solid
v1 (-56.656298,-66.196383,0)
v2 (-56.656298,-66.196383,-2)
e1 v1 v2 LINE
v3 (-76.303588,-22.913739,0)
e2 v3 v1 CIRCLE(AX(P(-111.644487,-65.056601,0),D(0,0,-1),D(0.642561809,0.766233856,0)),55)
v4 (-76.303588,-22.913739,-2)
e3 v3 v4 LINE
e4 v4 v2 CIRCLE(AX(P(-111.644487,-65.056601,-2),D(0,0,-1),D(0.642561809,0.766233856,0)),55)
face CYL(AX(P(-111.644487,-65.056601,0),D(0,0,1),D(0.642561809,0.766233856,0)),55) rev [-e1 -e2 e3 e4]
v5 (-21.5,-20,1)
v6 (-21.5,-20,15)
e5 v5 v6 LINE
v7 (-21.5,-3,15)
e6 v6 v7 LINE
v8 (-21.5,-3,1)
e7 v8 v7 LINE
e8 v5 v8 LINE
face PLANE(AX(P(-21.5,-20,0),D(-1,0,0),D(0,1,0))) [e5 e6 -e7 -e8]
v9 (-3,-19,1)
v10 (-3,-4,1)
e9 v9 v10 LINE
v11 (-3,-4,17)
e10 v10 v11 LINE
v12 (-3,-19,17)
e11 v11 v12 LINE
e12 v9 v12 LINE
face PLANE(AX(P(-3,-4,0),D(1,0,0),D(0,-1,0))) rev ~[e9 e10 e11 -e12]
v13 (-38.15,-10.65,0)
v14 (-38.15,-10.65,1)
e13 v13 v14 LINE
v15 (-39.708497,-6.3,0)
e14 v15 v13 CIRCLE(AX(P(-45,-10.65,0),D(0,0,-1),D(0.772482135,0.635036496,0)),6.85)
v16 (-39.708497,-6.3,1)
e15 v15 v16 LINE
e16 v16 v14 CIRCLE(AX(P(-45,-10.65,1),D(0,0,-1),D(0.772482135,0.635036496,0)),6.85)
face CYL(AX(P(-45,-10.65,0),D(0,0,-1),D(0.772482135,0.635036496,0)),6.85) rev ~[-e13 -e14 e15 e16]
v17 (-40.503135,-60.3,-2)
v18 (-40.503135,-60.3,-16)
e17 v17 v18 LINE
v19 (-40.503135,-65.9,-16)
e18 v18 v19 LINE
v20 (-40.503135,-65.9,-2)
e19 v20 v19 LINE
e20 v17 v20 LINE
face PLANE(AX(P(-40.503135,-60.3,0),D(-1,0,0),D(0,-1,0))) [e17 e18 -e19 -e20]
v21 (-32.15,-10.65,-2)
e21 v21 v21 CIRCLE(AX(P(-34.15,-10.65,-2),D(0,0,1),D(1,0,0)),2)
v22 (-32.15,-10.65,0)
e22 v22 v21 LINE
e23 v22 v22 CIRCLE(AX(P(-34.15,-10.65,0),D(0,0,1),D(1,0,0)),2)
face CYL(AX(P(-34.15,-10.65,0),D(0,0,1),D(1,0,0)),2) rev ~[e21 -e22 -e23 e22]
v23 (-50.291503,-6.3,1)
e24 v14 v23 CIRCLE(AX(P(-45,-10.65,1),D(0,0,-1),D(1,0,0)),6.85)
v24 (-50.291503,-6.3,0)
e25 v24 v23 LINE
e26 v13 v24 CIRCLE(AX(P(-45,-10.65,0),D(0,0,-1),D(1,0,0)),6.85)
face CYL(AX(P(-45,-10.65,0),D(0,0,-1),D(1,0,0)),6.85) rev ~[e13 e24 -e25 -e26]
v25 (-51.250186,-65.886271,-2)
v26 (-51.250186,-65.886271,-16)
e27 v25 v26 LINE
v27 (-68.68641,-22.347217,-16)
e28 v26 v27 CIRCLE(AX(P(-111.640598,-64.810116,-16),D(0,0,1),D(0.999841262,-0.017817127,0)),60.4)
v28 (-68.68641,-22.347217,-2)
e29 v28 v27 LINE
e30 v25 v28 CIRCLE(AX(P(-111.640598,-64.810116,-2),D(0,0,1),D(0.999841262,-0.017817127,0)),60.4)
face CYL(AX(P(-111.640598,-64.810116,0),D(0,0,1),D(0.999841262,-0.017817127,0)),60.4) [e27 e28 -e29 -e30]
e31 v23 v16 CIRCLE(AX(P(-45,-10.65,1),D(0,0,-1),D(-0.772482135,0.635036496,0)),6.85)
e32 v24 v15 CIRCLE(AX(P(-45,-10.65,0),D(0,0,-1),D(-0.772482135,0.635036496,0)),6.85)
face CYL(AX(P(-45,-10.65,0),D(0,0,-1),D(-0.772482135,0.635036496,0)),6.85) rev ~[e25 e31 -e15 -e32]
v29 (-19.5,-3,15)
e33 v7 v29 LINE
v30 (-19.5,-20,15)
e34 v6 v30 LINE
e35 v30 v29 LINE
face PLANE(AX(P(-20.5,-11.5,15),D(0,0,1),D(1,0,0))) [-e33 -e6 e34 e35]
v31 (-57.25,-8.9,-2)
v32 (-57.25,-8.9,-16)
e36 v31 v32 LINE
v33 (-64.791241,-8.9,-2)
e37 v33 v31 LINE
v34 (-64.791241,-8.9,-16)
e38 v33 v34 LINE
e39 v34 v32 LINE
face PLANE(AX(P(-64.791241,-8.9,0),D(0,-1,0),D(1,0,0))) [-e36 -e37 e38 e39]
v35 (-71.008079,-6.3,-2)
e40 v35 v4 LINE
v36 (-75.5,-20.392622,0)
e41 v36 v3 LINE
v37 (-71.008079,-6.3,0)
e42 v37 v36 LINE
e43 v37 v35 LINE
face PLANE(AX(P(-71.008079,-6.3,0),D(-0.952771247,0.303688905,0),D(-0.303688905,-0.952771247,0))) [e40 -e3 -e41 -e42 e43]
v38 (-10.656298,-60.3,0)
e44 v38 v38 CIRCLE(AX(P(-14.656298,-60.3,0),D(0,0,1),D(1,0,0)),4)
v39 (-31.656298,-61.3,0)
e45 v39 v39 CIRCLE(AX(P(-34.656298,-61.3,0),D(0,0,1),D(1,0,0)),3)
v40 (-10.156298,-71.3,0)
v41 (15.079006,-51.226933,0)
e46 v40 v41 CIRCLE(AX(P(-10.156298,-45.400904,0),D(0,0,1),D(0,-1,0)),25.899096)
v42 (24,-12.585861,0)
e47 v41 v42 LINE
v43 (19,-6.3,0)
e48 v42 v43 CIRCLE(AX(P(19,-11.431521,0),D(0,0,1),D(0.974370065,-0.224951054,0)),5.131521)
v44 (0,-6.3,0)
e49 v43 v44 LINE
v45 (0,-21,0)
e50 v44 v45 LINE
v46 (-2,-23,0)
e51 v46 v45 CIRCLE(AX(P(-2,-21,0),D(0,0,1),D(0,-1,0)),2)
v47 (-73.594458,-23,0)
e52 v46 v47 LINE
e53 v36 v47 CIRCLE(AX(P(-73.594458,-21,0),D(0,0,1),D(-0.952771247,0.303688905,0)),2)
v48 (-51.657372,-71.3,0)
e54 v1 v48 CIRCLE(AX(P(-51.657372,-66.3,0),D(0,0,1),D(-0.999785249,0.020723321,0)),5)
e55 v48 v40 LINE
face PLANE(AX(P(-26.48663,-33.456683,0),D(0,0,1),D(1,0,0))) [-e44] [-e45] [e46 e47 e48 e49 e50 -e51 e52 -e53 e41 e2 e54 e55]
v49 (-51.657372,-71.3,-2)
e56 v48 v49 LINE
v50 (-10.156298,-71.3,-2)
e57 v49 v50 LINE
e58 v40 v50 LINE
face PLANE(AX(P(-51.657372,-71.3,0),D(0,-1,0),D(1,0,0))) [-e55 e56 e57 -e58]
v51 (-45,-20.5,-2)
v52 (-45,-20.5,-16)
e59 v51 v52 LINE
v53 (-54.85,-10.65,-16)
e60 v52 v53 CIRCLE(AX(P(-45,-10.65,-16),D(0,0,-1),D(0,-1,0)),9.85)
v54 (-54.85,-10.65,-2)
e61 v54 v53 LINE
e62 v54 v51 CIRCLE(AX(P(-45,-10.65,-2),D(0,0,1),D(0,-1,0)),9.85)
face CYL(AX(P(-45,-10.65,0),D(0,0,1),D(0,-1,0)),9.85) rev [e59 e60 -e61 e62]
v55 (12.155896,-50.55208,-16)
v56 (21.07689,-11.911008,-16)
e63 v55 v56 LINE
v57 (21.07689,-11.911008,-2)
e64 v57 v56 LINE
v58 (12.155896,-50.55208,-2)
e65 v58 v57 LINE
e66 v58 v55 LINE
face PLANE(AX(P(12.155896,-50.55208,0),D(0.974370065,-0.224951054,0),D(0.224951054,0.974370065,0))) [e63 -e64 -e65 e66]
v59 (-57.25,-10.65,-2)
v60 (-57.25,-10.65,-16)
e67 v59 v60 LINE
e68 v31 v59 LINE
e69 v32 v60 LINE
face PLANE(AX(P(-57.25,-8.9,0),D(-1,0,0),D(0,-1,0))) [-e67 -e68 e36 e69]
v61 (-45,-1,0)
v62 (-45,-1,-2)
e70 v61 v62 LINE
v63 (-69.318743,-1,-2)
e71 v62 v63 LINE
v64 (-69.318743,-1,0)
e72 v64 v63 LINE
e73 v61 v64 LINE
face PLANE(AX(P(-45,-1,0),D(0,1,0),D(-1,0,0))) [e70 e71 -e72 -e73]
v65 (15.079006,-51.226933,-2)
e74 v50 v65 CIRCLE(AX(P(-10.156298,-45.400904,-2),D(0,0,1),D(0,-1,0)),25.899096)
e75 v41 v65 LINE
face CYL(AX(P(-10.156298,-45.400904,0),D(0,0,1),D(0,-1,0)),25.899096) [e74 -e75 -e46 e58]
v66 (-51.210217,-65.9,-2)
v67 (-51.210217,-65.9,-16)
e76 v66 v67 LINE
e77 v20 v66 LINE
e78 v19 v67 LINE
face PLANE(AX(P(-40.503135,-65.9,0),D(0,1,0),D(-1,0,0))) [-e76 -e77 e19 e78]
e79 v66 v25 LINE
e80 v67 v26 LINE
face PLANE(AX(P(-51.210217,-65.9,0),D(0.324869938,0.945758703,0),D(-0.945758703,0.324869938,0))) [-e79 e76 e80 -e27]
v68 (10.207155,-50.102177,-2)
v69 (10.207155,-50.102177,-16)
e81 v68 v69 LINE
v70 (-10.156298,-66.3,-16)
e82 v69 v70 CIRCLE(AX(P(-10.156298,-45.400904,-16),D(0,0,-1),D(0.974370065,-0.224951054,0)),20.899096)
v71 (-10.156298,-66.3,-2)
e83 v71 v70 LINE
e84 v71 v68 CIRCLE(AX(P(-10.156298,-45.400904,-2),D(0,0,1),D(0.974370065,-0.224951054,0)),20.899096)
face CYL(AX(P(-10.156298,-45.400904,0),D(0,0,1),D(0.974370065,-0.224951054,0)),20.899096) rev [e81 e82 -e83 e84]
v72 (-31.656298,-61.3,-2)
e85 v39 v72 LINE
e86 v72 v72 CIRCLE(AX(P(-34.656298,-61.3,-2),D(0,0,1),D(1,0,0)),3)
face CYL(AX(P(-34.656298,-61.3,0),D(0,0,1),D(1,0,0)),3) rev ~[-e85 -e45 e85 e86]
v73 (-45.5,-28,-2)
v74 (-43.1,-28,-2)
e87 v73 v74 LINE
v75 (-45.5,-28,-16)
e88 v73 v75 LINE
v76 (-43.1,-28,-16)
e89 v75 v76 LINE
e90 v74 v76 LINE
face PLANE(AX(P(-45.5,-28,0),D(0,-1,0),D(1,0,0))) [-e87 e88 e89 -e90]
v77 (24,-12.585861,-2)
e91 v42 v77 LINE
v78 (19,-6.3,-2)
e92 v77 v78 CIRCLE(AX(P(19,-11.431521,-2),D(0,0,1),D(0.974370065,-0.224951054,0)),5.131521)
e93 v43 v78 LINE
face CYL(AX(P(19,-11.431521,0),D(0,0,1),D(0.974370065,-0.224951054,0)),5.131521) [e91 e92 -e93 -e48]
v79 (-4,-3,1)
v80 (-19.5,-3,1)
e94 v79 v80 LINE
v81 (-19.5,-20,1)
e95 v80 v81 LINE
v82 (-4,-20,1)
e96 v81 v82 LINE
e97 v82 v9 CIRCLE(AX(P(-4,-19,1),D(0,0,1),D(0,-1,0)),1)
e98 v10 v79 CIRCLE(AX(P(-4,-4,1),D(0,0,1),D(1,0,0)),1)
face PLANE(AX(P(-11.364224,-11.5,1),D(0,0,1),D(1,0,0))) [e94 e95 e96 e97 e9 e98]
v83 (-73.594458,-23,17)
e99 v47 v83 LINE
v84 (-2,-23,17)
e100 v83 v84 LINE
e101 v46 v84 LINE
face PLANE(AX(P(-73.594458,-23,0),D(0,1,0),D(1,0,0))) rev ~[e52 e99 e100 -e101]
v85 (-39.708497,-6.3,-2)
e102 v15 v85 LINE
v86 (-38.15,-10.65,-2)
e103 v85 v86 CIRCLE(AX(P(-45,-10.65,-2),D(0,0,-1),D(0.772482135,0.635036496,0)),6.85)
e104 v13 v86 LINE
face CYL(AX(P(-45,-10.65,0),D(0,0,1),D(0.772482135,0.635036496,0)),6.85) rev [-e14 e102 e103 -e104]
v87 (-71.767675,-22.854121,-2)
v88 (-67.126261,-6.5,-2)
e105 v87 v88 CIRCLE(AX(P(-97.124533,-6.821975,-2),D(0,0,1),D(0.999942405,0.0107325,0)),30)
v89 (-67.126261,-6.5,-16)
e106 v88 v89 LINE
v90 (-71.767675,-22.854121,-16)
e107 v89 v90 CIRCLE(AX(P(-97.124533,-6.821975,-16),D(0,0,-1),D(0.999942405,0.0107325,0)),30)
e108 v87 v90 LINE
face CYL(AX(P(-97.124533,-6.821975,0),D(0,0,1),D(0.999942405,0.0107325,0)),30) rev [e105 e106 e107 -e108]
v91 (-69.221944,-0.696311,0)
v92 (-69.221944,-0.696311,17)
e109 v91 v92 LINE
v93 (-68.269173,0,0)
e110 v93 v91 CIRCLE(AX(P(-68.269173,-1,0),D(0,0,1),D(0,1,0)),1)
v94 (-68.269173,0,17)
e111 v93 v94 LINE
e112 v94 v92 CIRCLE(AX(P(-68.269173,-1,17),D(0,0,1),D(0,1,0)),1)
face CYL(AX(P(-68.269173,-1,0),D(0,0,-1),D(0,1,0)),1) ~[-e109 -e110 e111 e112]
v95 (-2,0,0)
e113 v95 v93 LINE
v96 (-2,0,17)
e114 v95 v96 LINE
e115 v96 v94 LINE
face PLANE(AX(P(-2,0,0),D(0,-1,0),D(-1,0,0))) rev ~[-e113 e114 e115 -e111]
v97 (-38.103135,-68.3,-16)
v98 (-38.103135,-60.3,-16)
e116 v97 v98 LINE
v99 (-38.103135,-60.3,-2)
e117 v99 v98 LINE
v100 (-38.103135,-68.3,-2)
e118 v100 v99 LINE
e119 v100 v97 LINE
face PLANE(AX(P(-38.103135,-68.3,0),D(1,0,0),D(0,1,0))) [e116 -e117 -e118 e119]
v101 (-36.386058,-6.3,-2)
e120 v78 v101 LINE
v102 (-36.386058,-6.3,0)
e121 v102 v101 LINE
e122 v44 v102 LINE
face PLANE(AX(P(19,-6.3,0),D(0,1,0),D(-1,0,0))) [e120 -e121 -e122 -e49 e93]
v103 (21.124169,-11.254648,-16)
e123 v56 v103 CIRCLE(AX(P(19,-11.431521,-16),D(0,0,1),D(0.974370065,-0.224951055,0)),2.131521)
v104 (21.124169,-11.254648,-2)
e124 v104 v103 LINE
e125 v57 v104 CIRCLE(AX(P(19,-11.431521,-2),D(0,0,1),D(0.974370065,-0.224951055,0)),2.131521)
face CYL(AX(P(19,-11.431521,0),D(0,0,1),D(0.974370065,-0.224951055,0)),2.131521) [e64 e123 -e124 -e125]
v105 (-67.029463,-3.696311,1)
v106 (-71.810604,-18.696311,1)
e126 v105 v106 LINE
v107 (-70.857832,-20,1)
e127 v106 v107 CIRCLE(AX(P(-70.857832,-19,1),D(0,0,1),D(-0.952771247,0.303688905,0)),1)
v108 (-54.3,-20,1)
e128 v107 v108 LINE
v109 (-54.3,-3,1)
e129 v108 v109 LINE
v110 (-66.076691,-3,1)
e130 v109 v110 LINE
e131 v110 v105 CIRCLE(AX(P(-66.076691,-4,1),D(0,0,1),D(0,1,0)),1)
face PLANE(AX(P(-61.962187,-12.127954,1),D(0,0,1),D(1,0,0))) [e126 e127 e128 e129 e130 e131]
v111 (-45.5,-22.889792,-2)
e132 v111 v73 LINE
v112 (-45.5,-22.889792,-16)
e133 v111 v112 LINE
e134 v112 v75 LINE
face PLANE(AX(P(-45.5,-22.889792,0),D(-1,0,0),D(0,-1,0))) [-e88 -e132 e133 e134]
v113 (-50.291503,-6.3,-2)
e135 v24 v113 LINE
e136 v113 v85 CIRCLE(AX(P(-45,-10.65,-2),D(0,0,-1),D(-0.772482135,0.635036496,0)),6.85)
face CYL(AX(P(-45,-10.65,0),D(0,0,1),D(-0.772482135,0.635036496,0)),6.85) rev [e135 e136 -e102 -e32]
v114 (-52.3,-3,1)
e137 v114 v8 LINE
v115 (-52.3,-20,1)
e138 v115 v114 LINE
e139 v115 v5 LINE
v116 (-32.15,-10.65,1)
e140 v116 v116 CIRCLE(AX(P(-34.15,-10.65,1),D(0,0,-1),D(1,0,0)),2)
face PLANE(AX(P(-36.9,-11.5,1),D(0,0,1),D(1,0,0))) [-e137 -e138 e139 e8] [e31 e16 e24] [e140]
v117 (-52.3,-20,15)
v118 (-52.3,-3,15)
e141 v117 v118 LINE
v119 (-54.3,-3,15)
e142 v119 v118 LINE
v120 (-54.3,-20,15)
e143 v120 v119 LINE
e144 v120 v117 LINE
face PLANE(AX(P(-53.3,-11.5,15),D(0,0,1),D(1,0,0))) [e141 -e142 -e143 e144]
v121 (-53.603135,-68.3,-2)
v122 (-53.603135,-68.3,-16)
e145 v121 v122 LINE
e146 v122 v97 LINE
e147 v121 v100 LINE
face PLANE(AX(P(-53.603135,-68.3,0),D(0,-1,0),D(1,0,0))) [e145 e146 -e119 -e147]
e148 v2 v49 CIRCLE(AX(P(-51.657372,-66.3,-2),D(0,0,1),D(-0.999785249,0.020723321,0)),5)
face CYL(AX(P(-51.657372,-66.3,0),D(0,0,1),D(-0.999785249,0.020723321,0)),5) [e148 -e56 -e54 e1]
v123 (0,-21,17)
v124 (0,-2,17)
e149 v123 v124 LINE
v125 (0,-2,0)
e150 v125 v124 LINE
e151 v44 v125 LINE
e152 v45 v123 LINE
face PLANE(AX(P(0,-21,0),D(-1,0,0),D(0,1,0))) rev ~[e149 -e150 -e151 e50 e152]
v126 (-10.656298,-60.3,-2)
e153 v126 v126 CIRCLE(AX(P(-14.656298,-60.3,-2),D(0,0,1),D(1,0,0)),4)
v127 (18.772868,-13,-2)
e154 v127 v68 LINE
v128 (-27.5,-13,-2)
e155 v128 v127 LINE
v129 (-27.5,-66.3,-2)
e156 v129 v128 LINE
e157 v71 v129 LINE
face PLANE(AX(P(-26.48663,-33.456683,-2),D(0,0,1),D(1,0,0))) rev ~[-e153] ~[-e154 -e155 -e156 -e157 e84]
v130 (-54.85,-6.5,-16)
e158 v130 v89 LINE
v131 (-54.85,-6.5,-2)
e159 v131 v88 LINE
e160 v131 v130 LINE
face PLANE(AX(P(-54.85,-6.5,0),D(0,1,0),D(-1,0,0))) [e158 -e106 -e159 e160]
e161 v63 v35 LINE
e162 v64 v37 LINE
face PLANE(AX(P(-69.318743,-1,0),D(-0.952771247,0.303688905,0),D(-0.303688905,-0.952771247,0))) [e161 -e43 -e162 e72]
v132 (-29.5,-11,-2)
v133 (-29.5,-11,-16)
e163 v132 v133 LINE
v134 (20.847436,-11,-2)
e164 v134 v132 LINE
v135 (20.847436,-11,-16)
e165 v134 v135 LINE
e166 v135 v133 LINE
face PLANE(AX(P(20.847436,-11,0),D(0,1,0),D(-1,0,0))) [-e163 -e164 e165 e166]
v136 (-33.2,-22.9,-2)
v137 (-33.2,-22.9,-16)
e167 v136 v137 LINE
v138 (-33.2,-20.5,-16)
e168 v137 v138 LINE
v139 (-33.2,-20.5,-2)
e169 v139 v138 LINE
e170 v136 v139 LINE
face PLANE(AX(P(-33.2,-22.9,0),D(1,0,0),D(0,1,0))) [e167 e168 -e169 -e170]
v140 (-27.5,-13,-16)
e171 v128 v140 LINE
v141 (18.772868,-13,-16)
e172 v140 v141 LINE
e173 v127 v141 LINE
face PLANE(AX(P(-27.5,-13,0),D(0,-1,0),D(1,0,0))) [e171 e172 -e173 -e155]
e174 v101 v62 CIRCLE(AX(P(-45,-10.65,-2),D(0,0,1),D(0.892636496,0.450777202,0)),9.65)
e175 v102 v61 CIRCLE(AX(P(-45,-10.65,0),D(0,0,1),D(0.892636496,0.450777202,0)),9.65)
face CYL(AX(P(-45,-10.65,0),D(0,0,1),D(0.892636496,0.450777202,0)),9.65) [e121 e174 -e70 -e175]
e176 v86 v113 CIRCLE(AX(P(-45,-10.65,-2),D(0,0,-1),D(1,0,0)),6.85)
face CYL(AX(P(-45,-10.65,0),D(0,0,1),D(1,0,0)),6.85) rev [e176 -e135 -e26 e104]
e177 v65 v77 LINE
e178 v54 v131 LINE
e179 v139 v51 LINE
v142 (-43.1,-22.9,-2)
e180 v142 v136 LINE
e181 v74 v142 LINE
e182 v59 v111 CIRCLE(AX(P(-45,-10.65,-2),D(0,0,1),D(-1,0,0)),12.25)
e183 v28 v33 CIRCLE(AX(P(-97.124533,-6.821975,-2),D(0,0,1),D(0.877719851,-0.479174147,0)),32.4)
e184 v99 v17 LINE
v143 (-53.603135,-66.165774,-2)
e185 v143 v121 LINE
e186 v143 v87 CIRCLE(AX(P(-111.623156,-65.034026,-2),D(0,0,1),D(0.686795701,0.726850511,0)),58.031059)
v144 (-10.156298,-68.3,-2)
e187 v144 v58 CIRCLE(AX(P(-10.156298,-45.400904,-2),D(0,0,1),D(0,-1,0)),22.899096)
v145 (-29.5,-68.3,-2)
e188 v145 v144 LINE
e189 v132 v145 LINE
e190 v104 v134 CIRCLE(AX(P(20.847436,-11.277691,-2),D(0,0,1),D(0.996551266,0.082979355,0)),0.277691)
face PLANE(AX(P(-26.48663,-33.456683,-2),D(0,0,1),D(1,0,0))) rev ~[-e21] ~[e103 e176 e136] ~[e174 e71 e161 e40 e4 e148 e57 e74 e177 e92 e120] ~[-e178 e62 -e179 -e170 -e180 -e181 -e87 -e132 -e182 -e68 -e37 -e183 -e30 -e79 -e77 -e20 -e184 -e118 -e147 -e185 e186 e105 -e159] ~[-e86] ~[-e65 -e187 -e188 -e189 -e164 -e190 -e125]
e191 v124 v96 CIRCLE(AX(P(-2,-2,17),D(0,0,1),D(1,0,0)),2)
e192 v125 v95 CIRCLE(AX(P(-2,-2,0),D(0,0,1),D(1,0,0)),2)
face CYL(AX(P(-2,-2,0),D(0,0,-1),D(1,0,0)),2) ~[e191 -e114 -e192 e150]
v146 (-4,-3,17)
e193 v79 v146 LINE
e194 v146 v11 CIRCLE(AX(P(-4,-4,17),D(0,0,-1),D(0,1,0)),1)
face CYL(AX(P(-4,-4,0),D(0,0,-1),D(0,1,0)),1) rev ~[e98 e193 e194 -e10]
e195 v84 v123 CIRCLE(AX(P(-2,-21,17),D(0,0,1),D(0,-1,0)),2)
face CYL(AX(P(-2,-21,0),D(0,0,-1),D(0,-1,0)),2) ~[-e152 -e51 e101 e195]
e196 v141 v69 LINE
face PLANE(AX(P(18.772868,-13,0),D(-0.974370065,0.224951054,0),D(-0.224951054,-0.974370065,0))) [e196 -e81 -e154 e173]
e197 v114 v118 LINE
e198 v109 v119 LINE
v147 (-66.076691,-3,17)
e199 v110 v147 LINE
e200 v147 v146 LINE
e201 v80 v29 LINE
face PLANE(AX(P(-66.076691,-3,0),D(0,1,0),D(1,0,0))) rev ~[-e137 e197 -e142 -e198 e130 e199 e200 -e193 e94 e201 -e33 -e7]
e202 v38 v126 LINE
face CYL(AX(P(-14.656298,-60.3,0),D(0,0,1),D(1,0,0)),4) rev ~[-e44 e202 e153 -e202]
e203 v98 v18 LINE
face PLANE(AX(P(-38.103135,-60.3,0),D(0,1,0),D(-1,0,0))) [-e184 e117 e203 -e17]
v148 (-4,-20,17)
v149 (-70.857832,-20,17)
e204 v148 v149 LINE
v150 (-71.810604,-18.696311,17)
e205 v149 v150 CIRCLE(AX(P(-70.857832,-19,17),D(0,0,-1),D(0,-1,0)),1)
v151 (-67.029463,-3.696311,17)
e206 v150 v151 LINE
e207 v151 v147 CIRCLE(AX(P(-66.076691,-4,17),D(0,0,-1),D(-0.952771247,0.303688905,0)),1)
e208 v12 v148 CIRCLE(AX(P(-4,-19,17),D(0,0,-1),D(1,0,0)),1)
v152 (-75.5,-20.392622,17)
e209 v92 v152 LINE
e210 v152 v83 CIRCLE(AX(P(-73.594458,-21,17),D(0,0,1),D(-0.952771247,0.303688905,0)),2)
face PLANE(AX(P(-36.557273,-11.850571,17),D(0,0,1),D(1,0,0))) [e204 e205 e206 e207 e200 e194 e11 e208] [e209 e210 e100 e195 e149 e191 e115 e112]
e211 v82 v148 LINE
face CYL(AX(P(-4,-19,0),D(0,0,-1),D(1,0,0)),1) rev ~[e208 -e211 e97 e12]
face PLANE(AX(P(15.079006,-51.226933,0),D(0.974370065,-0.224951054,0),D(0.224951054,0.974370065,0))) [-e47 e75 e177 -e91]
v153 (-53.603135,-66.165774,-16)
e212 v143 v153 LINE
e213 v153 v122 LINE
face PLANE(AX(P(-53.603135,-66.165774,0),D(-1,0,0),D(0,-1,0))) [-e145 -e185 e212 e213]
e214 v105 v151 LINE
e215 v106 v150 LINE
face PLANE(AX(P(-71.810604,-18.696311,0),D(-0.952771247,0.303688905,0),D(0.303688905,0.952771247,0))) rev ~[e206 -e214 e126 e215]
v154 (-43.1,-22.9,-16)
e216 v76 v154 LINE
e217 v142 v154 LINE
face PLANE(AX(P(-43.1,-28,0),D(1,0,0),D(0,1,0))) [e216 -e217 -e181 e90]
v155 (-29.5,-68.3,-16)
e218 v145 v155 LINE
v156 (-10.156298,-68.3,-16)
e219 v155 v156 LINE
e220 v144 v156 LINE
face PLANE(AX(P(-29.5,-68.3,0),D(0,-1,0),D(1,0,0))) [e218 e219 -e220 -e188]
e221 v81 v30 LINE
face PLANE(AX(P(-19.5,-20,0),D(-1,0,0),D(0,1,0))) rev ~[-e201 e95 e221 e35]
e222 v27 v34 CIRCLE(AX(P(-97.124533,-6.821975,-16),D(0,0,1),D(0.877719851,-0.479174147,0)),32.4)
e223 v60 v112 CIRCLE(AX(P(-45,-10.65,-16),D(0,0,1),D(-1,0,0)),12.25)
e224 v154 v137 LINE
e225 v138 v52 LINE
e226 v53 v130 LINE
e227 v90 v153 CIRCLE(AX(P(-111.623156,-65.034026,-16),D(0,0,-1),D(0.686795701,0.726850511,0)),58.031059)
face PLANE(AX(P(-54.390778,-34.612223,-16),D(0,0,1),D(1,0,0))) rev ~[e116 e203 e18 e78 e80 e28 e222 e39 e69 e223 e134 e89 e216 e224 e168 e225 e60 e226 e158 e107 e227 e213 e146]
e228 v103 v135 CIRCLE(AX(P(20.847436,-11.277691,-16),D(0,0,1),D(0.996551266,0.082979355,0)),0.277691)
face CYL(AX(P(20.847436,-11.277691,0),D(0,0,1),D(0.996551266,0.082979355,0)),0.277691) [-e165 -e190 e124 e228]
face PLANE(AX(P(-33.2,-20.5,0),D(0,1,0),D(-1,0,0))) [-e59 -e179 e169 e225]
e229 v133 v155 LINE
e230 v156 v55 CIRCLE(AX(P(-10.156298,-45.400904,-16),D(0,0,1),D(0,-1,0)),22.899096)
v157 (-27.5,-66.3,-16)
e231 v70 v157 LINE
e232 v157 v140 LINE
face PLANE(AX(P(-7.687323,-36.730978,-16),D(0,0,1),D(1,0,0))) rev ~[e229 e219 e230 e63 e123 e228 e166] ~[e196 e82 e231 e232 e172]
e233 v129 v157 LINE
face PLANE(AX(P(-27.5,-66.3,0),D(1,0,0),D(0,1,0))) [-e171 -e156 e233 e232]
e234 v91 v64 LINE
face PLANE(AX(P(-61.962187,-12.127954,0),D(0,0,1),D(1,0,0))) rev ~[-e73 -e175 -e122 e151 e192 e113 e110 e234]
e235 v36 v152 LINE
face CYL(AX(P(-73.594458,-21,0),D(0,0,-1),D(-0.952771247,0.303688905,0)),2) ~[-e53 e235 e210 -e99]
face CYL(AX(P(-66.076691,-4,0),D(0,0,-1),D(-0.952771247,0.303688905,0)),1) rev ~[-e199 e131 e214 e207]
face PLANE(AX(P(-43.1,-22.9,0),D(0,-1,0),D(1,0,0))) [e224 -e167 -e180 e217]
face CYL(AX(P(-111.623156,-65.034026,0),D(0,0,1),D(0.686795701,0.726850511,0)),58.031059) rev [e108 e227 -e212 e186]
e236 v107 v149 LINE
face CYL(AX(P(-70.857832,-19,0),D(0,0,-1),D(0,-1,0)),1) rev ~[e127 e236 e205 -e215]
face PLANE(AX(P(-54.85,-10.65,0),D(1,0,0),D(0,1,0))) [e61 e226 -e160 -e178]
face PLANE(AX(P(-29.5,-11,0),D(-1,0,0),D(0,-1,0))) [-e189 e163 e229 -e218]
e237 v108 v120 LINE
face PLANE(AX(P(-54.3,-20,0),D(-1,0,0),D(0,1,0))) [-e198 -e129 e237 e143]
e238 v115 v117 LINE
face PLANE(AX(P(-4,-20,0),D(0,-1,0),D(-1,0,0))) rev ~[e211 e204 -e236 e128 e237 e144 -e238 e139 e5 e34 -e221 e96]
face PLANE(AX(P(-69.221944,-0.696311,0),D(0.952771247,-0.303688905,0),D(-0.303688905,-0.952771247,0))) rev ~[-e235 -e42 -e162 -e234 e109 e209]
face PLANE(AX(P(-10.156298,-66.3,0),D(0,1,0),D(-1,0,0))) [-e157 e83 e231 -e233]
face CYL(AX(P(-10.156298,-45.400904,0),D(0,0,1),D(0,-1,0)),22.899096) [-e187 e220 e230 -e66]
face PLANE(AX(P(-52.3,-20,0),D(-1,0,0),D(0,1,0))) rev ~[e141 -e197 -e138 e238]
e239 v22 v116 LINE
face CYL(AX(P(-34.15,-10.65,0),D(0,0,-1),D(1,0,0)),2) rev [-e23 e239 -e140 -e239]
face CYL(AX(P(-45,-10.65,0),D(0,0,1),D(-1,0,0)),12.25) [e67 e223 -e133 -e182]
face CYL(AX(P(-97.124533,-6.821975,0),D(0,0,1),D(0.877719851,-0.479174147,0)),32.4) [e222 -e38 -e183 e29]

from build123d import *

# Parameters (mm, degrees)
F1_DEPTH = 17
F0_W     = 2
F0_H     = 17
F2_DEPTH = 15
F0_W_2   = 30.8
F3_DEPTH = 1
F4_R     = 3
F4_R_2   = 4
F4_R_3   = 2
F5_DEPTH = 2
F6_DEPTH = 25
F8_DEPTH = 16


with BuildPart() as f1:
    # F0 (on Top) → F1 (new body)
    with BuildSketch(Plane.XY):
        with BuildLine():
            Line((-2, 0), (-68.2691728501, 0))
            ThreePointArc((-68.2691728501, 0), (-68.8592199223, -0.1926311546), (-69.221944097, -0.6963110949))
            Line((-69.221944097, -0.6963110949), (-75.5, -20.3926221898))
            ThreePointArc((-75.5, -20.3926221898), (-75.209195197, -22.1800941445), (-73.5944575062, -23))
            Line((-73.5944575062, -23), (-2, -23))
            ThreePointArc((-2, -23), (-0.5857864376, -22.4142135624), (0, -21))
            Line((0, -21), (0, -2))
            ThreePointArc((0, -2), (-0.5857864376, -0.5857864376), (-2, 0))
        make_face()
        with BuildLine():
            ThreePointArc((-67.0294626472, -3.6963110949), (-66.6667384725, -3.1926311546), (-66.0766914003, -3))
            Line((-66.0766914003, -3), (-54.3, -3))
            Line((-54.3, -3), (-52.3, -3))
            Line((-52.3, -3), (-21.5, -3))
            Line((-21.5, -3), (-19.5, -3))
            Line((-19.5, -3), (-4, -3))
            ThreePointArc((-4, -3), (-3.2928932188, -3.2928932188), (-3, -4))
            Line((-3, -4), (-3, -19))
            ThreePointArc((-3, -19), (-3.2928932188, -19.7071067812), (-4, -20))
            Line((-4, -20), (-19.5, -20))
            Line((-19.5, -20), (-21.5, -20))
            Line((-21.5, -20), (-52.3, -20))
            Line((-52.3, -20), (-54.3, -20))
            Line((-54.3, -20), (-70.8578322998, -20))
            ThreePointArc((-70.8578322998, -20), (-71.6652011452, -19.5900470722), (-71.8106035467, -18.6963110949))
            Line((-71.8106035467, -18.6963110949), (-67.0294626472, -3.6963110949))
        make_face(mode=Mode.SUBTRACT)
    extrude(amount=F1_DEPTH)

    # F0 (on Top) → F2 (join)
    with BuildSketch(Plane.XY):
        with Locations((-53.3, -11.5)):
            Rectangle(F0_W, F0_H)
        with Locations((-20.5, -11.5)):
            Rectangle(F0_W, F0_H)
    extrude(amount=F2_DEPTH)

    # F0 (on Top) → F3 (join)
    with BuildSketch(Plane.XY):
        with BuildLine():
            Line((-54.3, -3), (-66.0766914003, -3))
            ThreePointArc((-66.0766914003, -3), (-66.6667384725, -3.1926311546), (-67.0294626472, -3.6963110949))
            Line((-67.0294626472, -3.6963110949), (-71.8106035467, -18.6963110949))
            ThreePointArc((-71.8106035467, -18.6963110949), (-71.6652011452, -19.5900470722), (-70.8578322998, -20))
            Line((-70.8578322998, -20), (-54.3, -20))
            Line((-54.3, -20), (-54.3, -3))
        make_face()
        with Locations((-36.9, -11.5)):
            Rectangle(F0_W_2, F0_H)
        with BuildLine():
            Line((-4, -3), (-19.5, -3))
            Line((-19.5, -3), (-19.5, -20))
            Line((-19.5, -20), (-4, -20))
            ThreePointArc((-4, -20), (-3.2928932188, -19.7071067812), (-3, -19))
            Line((-3, -19), (-3, -4))
            ThreePointArc((-3, -4), (-3.2928932188, -3.2928932188), (-4, -3))
        make_face()
    extrude(amount=F3_DEPTH)

    # F4 (on Top) → F5 (join)
    with BuildSketch(Plane.XY):
        with BuildLine():
            ThreePointArc((24, -12.5858614946), (23.0159698309, -8.2370738953), (19, -6.3))
            Line((19, -6.3), (-36.3860578131, -6.3))
            Line((-36.3860578131, -6.3), (-39.7084973779, -6.3))
            ThreePointArc((-39.7084973779, -6.3), (-38.5513841423, -8.3396204816), (-38.15, -10.65))
            ThreePointArc((-38.15, -10.65), (-47.3103795184, -17.0986158577), (-50.2915026221, -6.3))
            Line((-50.2915026221, -6.3), (-71.0080791799, -6.3))
            Line((-71.0080791799, -6.3), (-76.3035875518, -22.9137386762))
            ThreePointArc((-76.3035875518, -22.9137386762), (-61.5627251362, -42.3229885458), (-56.656298365, -66.1963833943))
            ThreePointArc((-56.656298365, -66.1963833943), (-55.2293521755, -69.7987081167), (-51.6573721204, -71.3))
            Line((-51.6573721204, -71.3), (-10.156298365, -71.3))
            ThreePointArc((-10.156298365, -71.3), (5.9662681641, -65.6697477172), (15.0790057851, -51.2269327109))
            Line((15.0790057851, -51.2269327109), (24, -12.5858614946))
        make_face()
        with Locations((-34.656298365, -61.3)):
            Circle(F4_R, mode=Mode.SUBTRACT)
        with Locations((-14.656298365, -60.3)):
            Circle(F4_R_2, mode=Mode.SUBTRACT)
        with Locations((-34.15, -10.65)):
            Circle(F4_R_3, mode=Mode.SUBTRACT)
        with BuildLine():
            Line((-39.7084973779, -6.3), (-36.3860578131, -6.3))
            ThreePointArc((-36.3860578131, -6.3), (-39.9430740563, -2.4311192976), (-45, -1))
            Line((-45, -1), (-69.3187427266, -1))
            Line((-69.3187427266, -1), (-71.0080791799, -6.3))
            Line((-71.0080791799, -6.3), (-50.2915026221, -6.3))
            ThreePointArc((-50.2915026221, -6.3), (-45, -3.8), (-39.7084973779, -6.3))
        make_face()
    extrude(amount=-F5_DEPTH)

    # F6 (cut): faces of the model
    f6_faces = [f1.faces().sort_by_distance(p)[0] for p in [
        (-45, -10.65, 0),
        (-34.15, -10.65, 0),
    ]]
    extrude(f6_faces, amount=-F6_DEPTH, mode=Mode.SUBTRACT)

    # F7 (on Top) → F8 (join)
    with BuildSketch(Plane.XY):
        with BuildLine():
            Line((-29.5, -68.3), (-10.156298365, -68.3))
            ThreePointArc((-10.156298365, -68.3), (4.0987242542, -63.3219232466), (12.1558955908, -50.5520795479))
            Line((12.1558955908, -50.5520795479), (21.0768898056, -11.9110083316))
            ThreePointArc((21.0768898056, -11.9110083316), (21.1260119747, -11.5846639084), (21.1241694926, -11.2546483401))
            ThreePointArc((21.1241694926, -11.2546483401), (21.0354701794, -11.0733493387), (20.8474362182, -11))
            Line((20.8474362182, -11), (-29.5, -11))
            Line((-29.5, -11), (-29.5, -68.3))
        make_face()
        with BuildLine():
            Line((-10.156298365, -66.3), (-27.5, -66.3))
            Line((-27.5, -66.3), (-27.5, -13))
            Line((-27.5, -13), (18.7728680534, -13))
            Line((18.7728680534, -13), (10.2071554612, -50.1021774392))
            ThreePointArc((10.2071554612, -50.1021774392), (2.8536949809, -61.7567069329), (-10.156298365, -66.3))
        make_face(mode=Mode.SUBTRACT)
        with BuildLine():
            Line((-53.6031346189, -68.3), (-38.1031346189, -68.3))
            Line((-38.1031346189, -68.3), (-38.1031346189, -60.3))
            Line((-38.1031346189, -60.3), (-40.5031346189, -60.3))
            Line((-40.5031346189, -60.3), (-40.5031346189, -65.9))
            Line((-40.5031346189, -65.9), (-51.2102166135, -65.9))
            Line((-51.2102166135, -65.9), (-51.2501856031, -65.886270575))
            ThreePointArc((-51.2501856031, -65.886270575), (-55.5697599064, -42.3552473048), (-68.6864102541, -22.3472173679))
            ThreePointArc((-68.6864102541, -22.3472173679), (-66.0038303781, -15.8365100283), (-64.7912408019, -8.9))
            Line((-64.7912408019, -8.9), (-57.25, -8.9))
            Line((-57.25, -8.9), (-57.25, -10.65))
            ThreePointArc((-57.25, -10.65), (-53.8370668211, -19.1334397505), (-45.5, -22.8897916649))
            ThreePointArc((-45.5, -22.8897916649), (-45.2500520996, -22.8974476503), (-45, -22.9))
            Line((-45, -22.9), (-43.1, -22.9))
            Line((-43.1, -22.9), (-33.2, -22.9))
            Line((-33.2, -22.9), (-33.2, -20.5))
            Line((-33.2, -20.5), (-45, -20.5))
            ThreePointArc((-45, -20.5), (-51.9650017947, -17.6150017947), (-54.85, -10.65))
            Line((-54.85, -10.65), (-54.85, -6.5))
            Line((-54.85, -6.5), (-67.1262612777, -6.5))
            ThreePointArc((-67.1262612777, -6.5), (-68.2643194585, -15.0127044985), (-71.7676746543, -22.8541212502))
            ThreePointArc((-71.7676746543, -22.8541212502), (-58.1079401486, -42.5901979394), (-53.6031346189, -66.1657742205))
            Line((-53.6031346189, -66.1657742205), (-53.6031346189, -68.3))
        make_face()
        with BuildLine():
            Line((-43.1, -28), (-43.1, -22.9))
            Line((-43.1, -22.9), (-45, -22.9))
            ThreePointArc((-45, -22.9), (-45.2500520996, -22.8974476503), (-45.5, -22.8897916649))
            Line((-45.5, -22.8897916649), (-45.5, -28))
            Line((-45.5, -28), (-43.1, -28))
        make_face()
    extrude(amount=-F8_DEPTH)


solid = f1.part
